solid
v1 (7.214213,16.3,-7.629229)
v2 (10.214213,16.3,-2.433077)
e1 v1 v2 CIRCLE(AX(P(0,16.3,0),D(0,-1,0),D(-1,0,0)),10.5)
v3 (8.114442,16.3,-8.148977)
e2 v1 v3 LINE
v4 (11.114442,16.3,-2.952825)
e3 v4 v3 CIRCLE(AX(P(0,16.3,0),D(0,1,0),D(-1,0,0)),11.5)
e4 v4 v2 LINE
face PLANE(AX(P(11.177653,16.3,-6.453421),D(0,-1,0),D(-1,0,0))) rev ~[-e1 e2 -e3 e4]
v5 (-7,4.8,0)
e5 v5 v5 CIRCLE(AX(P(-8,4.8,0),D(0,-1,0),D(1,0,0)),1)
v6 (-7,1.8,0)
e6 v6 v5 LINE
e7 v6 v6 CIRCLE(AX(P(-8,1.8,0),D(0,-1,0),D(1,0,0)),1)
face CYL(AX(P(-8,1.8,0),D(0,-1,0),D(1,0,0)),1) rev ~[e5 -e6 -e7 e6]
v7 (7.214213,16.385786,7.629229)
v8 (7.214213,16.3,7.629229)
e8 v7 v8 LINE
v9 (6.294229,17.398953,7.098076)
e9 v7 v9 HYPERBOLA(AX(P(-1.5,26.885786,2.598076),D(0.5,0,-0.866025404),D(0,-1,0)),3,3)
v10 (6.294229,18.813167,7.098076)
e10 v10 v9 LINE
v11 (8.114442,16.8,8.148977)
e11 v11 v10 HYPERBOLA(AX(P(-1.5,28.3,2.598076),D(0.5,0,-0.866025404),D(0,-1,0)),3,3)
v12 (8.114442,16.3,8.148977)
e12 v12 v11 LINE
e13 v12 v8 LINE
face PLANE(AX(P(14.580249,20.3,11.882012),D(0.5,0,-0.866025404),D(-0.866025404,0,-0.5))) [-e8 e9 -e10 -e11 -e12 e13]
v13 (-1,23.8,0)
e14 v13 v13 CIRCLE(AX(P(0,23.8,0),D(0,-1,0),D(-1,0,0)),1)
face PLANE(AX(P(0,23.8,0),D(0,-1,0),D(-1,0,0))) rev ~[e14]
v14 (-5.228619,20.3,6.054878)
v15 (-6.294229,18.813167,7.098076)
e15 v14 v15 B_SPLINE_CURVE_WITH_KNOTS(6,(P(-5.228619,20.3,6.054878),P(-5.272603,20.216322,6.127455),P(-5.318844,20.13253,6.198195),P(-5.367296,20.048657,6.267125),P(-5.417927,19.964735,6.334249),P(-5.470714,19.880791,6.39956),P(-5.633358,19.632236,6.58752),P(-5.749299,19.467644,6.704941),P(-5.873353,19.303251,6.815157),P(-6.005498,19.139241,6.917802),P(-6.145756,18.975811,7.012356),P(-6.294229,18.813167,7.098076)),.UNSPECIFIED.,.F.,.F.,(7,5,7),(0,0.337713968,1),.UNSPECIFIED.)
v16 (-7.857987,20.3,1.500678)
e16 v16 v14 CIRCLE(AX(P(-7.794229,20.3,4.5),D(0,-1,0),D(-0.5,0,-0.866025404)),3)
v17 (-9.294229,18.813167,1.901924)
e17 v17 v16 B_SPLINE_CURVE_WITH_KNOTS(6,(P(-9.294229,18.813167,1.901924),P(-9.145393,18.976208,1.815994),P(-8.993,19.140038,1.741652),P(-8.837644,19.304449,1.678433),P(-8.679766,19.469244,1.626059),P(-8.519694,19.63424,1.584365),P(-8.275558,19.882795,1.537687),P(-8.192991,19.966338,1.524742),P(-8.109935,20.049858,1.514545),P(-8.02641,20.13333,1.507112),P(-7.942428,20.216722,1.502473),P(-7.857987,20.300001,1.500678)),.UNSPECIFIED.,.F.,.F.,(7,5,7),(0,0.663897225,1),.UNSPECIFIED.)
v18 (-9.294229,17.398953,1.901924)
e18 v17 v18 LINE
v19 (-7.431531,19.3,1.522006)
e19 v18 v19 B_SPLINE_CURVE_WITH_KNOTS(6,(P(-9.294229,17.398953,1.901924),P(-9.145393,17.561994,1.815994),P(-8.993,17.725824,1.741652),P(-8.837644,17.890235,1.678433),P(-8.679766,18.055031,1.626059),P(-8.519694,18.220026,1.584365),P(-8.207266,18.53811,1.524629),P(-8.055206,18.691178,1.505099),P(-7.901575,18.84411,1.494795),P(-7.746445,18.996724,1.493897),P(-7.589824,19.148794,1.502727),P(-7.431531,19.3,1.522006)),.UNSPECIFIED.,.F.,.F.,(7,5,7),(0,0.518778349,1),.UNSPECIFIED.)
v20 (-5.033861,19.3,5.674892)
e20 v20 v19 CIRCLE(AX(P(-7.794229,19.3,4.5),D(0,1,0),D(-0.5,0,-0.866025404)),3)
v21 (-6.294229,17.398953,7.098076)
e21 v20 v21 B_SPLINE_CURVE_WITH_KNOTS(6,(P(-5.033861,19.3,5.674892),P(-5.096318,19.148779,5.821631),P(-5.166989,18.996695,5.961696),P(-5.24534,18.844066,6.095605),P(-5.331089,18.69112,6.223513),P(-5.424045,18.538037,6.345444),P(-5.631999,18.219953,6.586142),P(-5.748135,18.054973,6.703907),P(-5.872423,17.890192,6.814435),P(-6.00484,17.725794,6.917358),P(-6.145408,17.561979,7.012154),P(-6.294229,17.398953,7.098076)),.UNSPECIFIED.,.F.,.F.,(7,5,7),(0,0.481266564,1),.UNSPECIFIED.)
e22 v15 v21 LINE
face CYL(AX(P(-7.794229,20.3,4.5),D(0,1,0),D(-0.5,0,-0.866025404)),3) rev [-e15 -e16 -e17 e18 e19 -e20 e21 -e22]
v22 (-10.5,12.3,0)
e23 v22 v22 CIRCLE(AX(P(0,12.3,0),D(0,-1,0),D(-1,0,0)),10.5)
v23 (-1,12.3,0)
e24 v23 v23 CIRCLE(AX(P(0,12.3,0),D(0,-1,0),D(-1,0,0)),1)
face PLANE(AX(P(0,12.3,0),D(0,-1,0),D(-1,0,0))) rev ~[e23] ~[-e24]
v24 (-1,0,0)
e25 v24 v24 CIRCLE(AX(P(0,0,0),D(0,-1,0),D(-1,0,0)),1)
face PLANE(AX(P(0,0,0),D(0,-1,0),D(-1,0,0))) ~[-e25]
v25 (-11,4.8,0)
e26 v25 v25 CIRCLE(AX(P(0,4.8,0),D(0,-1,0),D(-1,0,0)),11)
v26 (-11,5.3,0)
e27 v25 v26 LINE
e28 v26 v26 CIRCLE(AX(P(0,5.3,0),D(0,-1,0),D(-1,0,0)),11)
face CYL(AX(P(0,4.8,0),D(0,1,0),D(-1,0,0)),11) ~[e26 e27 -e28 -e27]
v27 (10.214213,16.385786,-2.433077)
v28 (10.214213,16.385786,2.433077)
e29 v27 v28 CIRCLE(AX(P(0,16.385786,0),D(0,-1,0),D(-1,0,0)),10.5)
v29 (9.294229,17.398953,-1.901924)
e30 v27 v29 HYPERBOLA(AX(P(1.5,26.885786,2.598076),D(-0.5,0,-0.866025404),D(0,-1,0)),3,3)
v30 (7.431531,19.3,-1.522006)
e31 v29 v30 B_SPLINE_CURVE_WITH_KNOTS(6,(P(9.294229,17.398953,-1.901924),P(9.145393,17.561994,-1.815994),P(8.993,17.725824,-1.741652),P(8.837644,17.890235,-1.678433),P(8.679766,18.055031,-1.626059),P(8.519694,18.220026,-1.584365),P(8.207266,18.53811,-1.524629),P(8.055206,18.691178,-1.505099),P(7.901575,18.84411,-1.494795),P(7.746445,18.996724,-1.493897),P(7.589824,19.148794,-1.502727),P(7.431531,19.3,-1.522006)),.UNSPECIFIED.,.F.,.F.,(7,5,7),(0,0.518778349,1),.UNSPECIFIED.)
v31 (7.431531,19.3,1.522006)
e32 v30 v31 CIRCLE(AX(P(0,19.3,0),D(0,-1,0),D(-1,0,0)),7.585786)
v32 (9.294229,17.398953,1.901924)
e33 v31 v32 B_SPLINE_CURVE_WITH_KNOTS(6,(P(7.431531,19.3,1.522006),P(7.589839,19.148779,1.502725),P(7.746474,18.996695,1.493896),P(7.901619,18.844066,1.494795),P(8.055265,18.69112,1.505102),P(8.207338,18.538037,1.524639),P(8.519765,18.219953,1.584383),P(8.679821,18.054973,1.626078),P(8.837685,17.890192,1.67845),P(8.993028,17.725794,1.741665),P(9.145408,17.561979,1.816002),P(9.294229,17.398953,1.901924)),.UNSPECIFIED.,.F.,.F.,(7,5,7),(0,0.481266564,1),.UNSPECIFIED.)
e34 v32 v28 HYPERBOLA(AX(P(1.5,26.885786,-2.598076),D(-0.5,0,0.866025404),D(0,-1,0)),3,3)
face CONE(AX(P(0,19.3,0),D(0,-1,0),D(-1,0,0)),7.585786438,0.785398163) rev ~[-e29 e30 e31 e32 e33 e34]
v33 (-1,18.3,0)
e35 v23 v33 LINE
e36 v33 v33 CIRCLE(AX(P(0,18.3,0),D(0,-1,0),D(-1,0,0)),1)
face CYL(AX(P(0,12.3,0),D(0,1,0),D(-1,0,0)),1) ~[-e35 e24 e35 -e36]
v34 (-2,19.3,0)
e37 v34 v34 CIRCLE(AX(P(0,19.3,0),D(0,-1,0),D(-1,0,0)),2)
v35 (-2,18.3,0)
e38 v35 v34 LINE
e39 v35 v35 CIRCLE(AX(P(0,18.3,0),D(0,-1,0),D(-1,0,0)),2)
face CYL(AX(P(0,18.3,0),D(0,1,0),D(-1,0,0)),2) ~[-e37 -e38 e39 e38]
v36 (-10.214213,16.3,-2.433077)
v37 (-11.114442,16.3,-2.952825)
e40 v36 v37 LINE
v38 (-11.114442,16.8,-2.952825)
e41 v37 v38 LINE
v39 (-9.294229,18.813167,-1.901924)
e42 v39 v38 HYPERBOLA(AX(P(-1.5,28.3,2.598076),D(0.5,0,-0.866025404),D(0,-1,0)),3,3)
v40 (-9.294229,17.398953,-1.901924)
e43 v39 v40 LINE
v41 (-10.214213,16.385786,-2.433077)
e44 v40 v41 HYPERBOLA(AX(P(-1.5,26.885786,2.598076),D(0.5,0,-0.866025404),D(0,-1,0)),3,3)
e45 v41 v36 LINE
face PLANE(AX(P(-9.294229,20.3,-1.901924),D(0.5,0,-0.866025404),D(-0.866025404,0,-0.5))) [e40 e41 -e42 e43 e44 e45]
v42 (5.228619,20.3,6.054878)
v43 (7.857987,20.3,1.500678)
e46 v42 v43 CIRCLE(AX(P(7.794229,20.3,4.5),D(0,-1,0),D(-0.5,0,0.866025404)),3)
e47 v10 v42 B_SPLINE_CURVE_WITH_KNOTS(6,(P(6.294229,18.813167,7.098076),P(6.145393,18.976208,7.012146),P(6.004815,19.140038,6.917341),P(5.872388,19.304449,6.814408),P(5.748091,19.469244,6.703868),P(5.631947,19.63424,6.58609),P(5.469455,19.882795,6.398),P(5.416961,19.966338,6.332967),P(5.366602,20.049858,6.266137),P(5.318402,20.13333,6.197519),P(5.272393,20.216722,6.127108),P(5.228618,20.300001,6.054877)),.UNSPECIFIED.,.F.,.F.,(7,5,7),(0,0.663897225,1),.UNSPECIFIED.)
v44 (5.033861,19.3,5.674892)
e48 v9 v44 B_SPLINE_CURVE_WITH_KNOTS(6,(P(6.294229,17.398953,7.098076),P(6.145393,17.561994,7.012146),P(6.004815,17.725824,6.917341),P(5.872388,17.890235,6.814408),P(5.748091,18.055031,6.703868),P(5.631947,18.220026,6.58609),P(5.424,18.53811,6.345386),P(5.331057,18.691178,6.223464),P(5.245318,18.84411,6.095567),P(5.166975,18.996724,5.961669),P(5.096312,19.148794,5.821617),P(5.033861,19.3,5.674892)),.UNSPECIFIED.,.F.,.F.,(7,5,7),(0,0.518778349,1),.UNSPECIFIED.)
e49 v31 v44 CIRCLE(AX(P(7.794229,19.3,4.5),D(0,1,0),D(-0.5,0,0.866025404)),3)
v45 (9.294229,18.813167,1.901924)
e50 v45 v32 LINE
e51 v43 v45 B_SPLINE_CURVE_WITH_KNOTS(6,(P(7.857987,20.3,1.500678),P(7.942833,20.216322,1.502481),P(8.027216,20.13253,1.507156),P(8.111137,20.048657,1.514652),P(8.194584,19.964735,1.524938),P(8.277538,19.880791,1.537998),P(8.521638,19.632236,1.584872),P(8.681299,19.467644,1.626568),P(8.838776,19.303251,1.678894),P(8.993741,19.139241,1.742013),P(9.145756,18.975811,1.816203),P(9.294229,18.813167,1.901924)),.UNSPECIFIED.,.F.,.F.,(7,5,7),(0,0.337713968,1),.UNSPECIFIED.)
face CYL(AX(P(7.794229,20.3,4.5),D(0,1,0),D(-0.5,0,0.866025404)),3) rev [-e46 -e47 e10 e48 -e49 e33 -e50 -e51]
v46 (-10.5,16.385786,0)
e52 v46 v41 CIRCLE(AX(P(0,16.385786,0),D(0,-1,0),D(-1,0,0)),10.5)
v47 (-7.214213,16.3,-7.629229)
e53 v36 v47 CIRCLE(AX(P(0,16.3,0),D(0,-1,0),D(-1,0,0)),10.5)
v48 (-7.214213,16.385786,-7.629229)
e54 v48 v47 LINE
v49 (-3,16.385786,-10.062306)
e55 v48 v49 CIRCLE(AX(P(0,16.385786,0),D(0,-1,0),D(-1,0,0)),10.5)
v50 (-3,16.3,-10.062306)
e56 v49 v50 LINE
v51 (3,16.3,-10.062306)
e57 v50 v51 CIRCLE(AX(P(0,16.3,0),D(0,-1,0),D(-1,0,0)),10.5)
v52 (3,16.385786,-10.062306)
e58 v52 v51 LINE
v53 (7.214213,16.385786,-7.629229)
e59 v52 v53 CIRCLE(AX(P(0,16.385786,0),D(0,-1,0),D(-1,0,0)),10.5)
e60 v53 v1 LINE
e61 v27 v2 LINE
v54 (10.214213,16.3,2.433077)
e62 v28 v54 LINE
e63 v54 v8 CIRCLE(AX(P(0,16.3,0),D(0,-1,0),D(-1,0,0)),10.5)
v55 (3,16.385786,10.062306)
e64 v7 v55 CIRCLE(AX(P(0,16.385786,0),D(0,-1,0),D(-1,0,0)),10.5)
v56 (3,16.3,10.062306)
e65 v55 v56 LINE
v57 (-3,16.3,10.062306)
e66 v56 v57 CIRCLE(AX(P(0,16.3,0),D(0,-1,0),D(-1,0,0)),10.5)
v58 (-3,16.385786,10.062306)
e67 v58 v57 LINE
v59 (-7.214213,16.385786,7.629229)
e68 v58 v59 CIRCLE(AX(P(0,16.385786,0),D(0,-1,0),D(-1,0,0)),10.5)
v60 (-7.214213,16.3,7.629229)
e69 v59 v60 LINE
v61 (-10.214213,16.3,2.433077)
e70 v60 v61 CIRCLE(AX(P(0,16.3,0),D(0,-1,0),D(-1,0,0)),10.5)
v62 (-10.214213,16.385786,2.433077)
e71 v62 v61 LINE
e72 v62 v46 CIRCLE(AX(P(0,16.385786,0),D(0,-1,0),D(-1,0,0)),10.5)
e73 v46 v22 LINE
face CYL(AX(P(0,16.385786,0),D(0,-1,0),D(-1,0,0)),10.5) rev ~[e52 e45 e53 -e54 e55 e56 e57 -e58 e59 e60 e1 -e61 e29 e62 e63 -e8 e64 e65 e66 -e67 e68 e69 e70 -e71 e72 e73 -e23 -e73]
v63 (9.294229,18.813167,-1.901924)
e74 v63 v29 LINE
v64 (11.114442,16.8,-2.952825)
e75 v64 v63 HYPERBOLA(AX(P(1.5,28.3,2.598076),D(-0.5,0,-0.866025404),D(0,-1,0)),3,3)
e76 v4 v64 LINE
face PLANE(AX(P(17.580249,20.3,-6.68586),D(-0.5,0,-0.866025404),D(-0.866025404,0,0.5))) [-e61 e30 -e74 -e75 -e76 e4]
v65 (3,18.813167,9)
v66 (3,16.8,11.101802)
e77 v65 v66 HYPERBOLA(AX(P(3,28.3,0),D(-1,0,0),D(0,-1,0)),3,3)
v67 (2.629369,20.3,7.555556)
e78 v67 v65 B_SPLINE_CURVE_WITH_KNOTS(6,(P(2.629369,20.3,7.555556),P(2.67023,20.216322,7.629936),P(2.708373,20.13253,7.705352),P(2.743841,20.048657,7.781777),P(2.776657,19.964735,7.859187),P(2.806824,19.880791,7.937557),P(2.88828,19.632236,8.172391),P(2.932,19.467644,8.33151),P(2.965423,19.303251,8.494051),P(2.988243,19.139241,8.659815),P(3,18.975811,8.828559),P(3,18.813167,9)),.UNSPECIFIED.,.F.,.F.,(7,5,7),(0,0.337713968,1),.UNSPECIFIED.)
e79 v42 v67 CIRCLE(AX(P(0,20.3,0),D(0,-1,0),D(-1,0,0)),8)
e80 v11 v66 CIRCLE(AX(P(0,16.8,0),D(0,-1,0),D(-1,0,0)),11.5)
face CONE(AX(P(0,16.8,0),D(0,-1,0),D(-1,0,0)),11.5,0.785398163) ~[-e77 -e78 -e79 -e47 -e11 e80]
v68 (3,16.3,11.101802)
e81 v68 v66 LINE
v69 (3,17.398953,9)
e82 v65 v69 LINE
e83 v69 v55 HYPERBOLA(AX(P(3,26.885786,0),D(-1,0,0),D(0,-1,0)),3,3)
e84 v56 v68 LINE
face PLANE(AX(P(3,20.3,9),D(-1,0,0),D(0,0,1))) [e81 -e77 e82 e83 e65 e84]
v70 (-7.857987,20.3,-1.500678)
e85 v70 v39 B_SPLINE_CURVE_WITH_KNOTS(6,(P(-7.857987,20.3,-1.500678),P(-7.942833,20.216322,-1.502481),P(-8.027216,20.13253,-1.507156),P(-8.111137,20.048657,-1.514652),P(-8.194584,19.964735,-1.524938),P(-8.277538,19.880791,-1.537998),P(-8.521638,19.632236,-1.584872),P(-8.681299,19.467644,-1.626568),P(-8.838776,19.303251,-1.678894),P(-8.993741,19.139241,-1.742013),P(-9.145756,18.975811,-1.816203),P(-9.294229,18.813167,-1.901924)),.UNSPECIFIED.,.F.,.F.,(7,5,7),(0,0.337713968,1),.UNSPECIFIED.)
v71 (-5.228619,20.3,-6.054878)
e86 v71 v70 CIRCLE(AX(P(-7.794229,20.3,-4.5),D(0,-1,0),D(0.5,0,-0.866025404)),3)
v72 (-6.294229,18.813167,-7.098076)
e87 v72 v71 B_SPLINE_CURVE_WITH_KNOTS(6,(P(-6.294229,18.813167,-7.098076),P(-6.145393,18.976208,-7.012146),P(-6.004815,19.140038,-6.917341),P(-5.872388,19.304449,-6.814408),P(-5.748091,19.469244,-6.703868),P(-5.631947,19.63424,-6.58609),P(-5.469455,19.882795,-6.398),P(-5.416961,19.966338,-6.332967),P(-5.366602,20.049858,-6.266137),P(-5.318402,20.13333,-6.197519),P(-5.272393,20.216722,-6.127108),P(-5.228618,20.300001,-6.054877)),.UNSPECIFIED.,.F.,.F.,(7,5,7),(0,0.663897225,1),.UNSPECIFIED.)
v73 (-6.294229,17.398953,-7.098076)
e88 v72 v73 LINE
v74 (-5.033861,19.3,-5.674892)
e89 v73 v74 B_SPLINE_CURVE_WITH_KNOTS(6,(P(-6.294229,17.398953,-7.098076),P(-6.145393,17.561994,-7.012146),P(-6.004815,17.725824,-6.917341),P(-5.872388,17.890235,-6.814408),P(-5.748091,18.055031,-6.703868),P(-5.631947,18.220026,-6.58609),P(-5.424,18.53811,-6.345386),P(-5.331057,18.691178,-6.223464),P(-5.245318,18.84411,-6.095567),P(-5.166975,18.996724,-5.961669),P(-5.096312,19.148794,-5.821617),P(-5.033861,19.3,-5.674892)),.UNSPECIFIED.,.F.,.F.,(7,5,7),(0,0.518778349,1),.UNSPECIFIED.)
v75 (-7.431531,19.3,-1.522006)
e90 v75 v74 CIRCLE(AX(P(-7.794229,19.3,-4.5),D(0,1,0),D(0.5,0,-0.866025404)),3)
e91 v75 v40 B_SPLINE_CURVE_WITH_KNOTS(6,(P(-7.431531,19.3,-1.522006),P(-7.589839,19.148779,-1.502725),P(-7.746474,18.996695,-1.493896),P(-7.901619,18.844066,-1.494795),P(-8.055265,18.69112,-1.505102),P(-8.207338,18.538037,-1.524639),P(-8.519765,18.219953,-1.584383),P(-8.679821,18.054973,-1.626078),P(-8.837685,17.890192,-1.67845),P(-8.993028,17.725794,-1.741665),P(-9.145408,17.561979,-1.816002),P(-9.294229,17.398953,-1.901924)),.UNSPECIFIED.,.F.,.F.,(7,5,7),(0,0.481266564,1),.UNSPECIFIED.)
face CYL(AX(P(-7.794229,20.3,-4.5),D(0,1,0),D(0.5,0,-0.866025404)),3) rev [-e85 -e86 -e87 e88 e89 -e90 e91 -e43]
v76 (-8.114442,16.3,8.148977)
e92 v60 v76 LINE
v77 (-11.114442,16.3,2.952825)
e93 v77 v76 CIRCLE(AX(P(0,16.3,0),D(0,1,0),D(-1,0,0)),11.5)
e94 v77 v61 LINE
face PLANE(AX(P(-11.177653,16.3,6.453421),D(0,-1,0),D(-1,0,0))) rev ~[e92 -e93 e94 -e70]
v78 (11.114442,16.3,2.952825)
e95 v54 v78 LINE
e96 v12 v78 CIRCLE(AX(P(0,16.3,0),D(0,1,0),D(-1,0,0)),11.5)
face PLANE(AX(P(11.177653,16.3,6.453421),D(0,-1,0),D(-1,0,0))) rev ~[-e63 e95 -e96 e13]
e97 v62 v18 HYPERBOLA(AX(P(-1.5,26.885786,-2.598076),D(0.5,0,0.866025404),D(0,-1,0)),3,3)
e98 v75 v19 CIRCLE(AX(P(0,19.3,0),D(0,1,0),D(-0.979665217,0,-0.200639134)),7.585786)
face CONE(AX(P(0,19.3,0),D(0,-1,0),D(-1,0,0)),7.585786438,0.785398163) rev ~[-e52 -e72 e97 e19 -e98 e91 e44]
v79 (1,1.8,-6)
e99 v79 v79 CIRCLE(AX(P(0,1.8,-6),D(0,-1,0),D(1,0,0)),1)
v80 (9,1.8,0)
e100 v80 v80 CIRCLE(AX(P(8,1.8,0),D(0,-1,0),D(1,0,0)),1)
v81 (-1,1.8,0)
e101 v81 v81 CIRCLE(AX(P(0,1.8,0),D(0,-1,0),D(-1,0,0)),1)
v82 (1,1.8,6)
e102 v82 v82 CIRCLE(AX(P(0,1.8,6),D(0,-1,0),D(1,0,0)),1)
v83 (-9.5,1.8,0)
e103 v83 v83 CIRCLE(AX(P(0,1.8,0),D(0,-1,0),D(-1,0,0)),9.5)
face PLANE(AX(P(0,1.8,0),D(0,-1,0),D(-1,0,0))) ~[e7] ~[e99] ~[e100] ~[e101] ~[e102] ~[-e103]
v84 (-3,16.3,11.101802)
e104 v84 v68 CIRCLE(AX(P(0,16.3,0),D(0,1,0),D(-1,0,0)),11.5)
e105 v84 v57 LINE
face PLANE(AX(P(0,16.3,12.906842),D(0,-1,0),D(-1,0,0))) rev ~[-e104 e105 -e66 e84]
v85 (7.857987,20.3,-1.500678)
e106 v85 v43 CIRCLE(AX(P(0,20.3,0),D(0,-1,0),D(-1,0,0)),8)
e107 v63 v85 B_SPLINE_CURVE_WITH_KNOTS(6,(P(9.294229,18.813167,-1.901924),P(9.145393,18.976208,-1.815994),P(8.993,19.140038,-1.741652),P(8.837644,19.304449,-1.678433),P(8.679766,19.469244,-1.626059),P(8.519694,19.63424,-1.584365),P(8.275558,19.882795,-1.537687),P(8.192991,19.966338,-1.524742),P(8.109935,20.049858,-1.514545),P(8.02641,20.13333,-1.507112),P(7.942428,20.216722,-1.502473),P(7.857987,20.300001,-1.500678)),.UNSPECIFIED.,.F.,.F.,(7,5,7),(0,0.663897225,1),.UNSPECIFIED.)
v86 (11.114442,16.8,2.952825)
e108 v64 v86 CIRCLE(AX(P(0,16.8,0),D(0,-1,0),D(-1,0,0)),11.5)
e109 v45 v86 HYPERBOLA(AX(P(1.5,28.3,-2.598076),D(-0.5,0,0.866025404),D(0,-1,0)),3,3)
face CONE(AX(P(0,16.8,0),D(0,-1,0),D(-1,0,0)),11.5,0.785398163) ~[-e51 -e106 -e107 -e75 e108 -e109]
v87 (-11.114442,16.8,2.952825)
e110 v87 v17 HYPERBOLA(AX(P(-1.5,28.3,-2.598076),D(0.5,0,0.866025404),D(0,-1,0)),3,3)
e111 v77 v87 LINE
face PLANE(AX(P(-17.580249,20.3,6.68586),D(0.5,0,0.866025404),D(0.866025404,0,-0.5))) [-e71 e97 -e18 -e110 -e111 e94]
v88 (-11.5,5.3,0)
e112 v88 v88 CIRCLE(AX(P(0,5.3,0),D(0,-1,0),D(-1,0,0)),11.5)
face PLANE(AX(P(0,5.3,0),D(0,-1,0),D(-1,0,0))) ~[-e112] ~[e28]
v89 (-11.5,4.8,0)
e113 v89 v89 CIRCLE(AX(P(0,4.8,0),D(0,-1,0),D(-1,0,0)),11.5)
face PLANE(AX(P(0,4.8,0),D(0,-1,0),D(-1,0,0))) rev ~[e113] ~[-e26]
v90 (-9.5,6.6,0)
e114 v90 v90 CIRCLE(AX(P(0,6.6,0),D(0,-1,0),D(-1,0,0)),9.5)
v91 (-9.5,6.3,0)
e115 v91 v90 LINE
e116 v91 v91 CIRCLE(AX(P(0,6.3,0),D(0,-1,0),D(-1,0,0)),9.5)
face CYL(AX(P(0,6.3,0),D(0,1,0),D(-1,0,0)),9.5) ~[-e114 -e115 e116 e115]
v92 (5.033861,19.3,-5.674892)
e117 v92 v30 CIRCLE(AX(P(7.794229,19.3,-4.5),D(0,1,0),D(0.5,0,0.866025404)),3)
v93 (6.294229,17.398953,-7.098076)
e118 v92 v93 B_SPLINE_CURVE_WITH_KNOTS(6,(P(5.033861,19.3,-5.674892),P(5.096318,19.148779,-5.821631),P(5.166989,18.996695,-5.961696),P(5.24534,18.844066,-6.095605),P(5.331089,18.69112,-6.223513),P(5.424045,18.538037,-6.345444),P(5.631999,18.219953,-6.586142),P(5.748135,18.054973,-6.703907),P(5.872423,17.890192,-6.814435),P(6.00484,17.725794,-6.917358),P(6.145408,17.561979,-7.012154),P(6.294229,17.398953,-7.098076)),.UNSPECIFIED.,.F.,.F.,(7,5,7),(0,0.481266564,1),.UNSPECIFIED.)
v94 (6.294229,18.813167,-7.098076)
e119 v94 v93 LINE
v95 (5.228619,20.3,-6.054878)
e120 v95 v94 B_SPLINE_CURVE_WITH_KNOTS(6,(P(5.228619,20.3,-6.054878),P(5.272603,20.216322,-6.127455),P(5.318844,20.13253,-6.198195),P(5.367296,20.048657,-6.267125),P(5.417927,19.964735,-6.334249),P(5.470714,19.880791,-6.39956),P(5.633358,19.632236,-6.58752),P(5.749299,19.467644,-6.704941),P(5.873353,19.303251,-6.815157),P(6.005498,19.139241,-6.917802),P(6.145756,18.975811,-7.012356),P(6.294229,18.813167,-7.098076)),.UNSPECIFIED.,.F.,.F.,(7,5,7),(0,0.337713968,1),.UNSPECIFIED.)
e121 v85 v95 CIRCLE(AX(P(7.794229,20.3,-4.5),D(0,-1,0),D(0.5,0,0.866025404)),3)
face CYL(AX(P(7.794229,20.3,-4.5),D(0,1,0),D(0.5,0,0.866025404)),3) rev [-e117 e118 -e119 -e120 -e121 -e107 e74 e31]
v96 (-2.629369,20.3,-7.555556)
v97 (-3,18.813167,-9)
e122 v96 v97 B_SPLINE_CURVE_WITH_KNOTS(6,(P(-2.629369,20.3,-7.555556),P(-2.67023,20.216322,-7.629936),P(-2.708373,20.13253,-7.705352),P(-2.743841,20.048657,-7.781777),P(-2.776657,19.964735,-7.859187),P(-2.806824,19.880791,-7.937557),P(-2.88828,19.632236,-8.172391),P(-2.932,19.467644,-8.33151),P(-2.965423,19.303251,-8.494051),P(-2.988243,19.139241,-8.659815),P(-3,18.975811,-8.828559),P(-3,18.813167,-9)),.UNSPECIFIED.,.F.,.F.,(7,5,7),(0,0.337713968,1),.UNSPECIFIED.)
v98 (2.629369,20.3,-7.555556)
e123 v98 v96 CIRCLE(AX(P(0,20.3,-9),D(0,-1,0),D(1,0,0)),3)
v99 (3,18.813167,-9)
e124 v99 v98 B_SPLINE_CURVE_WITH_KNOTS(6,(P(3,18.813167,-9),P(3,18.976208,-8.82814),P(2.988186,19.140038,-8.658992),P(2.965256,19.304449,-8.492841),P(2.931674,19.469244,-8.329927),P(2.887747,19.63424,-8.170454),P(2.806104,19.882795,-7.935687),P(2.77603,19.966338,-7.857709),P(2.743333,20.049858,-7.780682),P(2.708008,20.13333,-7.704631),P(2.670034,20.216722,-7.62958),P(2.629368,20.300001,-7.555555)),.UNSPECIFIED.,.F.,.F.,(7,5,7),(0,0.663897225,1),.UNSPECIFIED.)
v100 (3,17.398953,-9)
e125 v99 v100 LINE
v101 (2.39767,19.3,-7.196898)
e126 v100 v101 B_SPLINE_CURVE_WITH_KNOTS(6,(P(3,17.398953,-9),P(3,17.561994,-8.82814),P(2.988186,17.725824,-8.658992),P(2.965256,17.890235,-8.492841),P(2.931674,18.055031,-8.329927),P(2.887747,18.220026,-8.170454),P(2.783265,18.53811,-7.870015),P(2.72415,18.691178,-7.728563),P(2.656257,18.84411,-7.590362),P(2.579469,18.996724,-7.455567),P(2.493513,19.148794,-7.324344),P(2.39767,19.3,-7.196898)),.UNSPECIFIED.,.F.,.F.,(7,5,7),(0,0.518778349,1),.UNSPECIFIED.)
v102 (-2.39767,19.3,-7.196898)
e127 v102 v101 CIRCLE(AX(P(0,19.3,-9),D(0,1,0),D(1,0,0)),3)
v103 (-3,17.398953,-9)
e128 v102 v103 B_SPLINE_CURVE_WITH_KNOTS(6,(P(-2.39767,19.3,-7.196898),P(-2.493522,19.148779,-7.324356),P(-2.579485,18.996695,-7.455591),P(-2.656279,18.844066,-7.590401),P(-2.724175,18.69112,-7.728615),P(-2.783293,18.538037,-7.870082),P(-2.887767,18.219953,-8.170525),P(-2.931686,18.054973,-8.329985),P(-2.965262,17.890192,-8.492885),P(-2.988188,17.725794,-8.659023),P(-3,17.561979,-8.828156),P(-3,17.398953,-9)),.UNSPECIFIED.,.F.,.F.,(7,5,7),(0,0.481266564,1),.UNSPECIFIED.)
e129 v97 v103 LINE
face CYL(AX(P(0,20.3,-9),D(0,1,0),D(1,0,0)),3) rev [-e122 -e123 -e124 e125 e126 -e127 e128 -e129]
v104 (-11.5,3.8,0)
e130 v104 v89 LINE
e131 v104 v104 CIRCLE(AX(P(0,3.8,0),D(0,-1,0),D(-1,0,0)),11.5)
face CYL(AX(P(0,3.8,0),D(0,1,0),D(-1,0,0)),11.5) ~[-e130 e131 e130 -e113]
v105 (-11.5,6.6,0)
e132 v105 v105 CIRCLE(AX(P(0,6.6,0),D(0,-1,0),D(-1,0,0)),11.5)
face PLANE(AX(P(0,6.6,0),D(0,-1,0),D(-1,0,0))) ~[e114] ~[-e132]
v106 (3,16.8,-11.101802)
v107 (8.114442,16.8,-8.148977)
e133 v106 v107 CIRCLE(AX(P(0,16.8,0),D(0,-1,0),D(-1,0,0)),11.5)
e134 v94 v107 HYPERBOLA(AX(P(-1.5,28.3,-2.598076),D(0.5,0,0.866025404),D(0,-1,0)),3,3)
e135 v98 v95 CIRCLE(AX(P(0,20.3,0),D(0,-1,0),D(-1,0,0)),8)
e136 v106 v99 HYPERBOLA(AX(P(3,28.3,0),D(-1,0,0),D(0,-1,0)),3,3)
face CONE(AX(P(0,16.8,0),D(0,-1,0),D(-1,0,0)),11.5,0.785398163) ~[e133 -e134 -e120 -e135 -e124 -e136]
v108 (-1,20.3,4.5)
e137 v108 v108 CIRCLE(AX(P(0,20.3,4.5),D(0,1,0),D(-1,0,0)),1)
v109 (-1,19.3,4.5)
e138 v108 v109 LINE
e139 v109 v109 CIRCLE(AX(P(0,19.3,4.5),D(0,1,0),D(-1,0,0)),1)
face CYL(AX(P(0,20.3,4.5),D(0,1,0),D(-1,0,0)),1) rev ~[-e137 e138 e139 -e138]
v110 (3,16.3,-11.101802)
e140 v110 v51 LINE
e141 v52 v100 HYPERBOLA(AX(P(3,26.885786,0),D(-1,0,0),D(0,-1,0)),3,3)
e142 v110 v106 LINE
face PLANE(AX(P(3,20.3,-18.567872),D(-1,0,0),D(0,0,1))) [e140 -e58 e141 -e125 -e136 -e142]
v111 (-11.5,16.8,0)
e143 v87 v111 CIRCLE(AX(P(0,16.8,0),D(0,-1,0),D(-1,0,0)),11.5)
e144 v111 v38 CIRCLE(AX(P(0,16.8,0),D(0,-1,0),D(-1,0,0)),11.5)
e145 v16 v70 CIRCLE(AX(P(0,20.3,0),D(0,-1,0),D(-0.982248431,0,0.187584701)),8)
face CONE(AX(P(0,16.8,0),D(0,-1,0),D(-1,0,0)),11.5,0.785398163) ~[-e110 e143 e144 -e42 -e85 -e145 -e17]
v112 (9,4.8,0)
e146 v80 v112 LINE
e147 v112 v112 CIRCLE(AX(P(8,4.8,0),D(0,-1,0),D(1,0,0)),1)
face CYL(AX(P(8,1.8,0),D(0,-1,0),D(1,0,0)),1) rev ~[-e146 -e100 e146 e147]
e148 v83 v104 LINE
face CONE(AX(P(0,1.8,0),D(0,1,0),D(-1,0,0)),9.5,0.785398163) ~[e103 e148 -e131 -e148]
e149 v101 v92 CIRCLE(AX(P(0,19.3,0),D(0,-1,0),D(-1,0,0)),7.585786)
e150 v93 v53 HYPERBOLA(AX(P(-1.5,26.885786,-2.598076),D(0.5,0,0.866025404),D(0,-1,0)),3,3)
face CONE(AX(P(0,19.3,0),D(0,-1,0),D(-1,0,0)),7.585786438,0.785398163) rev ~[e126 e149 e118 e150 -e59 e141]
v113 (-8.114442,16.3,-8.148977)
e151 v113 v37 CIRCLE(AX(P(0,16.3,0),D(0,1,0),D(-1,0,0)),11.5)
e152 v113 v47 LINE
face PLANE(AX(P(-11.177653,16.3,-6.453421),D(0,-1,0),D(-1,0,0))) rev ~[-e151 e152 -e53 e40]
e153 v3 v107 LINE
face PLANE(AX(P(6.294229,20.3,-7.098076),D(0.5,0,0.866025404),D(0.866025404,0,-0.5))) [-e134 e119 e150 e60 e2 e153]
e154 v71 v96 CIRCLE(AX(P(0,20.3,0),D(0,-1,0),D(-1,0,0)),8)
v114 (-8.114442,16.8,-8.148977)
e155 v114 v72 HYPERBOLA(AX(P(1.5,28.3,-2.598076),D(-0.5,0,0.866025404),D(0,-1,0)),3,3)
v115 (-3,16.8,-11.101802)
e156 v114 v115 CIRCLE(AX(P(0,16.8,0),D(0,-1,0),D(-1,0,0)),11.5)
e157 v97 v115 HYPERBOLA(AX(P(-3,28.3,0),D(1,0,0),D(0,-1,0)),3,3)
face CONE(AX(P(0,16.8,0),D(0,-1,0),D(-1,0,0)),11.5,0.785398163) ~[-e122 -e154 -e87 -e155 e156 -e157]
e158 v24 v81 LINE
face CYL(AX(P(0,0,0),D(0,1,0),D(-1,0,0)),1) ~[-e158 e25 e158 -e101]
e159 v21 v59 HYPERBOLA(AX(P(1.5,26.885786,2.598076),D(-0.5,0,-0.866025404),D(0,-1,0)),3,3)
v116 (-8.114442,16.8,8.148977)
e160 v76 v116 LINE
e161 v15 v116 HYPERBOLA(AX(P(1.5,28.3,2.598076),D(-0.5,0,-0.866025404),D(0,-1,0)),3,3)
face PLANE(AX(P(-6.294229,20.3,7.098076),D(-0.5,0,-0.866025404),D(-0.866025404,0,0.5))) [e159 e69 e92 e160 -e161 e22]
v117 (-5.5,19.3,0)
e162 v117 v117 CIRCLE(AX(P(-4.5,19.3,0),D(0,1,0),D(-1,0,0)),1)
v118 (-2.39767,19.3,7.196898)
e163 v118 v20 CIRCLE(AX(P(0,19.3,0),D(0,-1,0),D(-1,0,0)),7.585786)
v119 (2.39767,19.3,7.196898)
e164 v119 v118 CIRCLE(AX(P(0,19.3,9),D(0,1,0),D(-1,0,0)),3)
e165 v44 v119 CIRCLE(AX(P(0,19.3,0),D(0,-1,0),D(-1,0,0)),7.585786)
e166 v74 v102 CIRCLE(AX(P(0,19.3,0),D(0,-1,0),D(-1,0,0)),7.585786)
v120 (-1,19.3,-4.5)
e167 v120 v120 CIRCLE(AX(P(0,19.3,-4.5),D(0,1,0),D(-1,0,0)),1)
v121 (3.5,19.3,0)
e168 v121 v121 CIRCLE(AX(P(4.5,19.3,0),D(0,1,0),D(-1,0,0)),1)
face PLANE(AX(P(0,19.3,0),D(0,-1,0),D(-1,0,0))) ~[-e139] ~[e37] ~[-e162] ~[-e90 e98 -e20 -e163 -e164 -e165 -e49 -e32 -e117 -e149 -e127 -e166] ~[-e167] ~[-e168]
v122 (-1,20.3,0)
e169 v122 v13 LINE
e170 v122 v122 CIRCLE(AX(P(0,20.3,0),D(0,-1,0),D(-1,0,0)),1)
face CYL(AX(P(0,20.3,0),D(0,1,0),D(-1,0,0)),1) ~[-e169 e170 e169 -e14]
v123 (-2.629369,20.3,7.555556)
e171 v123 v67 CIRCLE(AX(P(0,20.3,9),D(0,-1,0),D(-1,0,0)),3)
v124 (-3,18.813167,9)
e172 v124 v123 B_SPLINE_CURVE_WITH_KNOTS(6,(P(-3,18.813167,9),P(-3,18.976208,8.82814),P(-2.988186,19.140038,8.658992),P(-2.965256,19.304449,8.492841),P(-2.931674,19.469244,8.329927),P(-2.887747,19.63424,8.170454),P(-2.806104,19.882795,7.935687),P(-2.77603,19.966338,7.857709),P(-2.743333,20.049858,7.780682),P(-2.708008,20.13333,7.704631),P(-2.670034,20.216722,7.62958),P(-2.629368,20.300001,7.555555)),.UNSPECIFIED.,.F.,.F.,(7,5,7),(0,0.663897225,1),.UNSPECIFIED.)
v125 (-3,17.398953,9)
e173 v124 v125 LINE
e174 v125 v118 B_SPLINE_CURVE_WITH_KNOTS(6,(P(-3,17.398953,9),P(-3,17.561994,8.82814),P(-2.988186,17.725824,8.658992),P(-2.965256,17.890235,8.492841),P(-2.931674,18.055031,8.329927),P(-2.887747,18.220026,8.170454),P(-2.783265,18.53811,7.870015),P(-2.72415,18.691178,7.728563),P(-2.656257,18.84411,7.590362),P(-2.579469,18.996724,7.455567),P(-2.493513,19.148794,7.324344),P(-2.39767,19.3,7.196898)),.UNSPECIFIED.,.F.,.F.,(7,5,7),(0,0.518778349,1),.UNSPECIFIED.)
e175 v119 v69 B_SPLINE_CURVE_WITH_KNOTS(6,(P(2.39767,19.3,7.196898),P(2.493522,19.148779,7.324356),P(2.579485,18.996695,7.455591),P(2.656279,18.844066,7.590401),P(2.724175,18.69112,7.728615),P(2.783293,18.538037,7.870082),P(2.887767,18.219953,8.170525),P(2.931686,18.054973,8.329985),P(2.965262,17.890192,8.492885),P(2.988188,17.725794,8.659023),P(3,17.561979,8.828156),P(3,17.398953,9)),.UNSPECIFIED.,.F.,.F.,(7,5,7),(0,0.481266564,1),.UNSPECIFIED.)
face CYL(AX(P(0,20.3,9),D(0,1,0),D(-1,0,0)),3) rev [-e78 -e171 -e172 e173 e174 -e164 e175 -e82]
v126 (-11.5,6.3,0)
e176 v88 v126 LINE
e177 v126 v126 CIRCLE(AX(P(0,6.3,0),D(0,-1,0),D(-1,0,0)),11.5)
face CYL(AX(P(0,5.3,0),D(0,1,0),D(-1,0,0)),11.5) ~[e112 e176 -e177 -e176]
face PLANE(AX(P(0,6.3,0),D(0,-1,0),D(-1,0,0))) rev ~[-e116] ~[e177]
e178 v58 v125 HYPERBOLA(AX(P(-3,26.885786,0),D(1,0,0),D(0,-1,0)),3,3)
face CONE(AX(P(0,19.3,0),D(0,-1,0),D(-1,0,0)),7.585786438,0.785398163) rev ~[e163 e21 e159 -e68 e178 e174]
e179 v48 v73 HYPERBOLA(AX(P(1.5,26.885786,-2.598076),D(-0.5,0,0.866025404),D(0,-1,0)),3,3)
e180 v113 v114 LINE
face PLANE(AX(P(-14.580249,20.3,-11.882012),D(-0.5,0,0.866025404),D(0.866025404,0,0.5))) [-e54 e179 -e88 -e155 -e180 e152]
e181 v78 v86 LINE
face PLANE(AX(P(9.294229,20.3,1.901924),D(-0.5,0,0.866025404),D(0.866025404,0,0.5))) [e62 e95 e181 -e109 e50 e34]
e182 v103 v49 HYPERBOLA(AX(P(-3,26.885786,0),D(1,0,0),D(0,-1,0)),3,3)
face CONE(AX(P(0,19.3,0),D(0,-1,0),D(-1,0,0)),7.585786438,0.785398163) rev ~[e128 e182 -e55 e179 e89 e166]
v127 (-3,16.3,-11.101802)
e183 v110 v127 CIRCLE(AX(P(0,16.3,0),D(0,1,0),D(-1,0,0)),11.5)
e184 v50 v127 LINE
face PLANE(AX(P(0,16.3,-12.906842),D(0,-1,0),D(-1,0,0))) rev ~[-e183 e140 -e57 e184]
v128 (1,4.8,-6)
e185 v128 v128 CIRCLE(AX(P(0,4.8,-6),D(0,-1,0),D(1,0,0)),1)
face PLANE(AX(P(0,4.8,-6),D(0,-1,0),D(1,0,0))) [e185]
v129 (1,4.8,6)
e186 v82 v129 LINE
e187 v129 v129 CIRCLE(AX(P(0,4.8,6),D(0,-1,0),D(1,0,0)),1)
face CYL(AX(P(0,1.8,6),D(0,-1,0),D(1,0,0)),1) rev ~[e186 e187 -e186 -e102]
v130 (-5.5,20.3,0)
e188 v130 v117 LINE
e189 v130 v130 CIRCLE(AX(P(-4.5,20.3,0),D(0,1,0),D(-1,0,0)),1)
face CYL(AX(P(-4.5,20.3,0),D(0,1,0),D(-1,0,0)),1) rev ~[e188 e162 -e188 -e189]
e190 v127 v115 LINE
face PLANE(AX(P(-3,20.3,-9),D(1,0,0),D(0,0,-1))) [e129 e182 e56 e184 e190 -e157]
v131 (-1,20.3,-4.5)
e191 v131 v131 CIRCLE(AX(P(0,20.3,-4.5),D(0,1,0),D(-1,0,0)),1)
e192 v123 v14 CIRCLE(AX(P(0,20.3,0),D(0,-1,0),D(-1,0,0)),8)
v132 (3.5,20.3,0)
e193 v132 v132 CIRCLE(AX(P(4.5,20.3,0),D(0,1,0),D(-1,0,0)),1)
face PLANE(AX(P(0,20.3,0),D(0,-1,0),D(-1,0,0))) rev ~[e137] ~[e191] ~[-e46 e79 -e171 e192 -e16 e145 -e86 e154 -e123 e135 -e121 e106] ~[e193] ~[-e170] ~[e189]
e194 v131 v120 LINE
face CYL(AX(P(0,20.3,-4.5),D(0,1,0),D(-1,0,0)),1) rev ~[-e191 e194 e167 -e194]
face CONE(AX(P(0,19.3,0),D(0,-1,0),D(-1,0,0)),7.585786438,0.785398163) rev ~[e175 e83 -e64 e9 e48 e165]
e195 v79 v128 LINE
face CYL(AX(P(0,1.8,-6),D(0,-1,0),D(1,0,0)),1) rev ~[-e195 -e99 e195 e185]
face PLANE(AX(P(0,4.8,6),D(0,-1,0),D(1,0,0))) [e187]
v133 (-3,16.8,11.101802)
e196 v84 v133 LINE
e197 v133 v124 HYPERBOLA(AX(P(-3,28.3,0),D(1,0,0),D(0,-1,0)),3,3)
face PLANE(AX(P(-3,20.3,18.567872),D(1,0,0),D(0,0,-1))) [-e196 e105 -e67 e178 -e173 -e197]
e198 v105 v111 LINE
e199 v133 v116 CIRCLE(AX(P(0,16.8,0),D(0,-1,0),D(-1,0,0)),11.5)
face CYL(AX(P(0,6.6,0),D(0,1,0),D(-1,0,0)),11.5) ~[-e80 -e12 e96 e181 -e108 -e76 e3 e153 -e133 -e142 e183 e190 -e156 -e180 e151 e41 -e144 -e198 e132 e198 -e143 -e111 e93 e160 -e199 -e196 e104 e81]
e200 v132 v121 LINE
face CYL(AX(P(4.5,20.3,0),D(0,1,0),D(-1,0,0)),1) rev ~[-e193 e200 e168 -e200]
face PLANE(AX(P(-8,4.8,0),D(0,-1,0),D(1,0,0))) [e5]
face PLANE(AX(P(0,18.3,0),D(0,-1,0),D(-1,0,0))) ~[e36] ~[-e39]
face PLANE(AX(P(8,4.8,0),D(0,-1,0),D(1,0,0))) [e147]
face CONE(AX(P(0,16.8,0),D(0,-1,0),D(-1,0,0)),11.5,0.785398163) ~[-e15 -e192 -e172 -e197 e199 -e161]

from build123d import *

# Parameters (mm, degrees)
SKETCH3_R          = 1
CUT_EXTRUDE2_DEPTH = 4
SKETCH6_R          = 1
CUT_EXTRUDE3_DEPTH = 3


with BuildPart() as part:
    # Sketch2 → Revolve1 (revolve)
    with BuildSketch(Plane.XY, mode=Mode.PRIVATE) as revolve1_sk:
        Polygon((0, 0), (1, 0), (1, 1.8), (9.5, 1.8), (11.5, 3.8), (11.5, 4.8), (11, 4.8), (11, 5.3), (11.5, 5.3), (11.5, 6.3), (9.5, 6.3), (9.5, 6.6), (11.5, 6.6), (11.5, 16.8), (8, 20.3), (1, 20.3), (1, 23.8), (0, 23.8), align=None)
        Polygon((2, 19.3), (7.585786438, 19.3), (10.5, 16.385786438), (10.5, 12.3), (1, 12.3), (1, 18.3), (2, 18.3), align=None, mode=Mode.SUBTRACT)
    revolve(revolve1_sk.sketch.rotate(Axis((0, 23.8, 0), (0, -1, 0)), 180), axis=Axis((0, 23.8, 0), (0, -1, 0)))

    # Sketch3 → Cut-Extrude2 (cut)
    with BuildSketch(Plane(origin=(0, 20.3, 0), x_dir=(1, 0, 0), z_dir=(0, 1, 0))):
        with Locations(Location((0, 4.5, 0), (0, 0, 180))):
            Circle(SKETCH3_R)
        with Locations(Location((4.5, 0, 0), (0, 0, 180))):
            Circle(SKETCH3_R)
        with Locations(Location((0, -4.5, 0), (0, 0, 180))):
            Circle(SKETCH3_R)
        with Locations(Location((-4.5, 0, 0), (0, 0, 180))):
            Circle(SKETCH3_R)
        with BuildLine():
            Line((-3, 9), (-3, 18.567871813))
            Line((-3, 18.567871813), (3, 18.567871813))
            Line((3, 18.567871813), (3, 9))
            ThreePointArc((3, 9), (0, 6), (-3, 9))
        make_face()
        with BuildLine():
            Line((6.294228634, 7.098076211), (14.580248685, 11.882012118))
            Line((14.580248685, 11.882012118), (17.580248685, 6.685859695))
            Line((17.580248685, 6.685859695), (9.294228634, 1.901923789))
            ThreePointArc((9.294228634, 1.901923789), (5.196152423, 3), (6.294228634, 7.098076211))
        make_face()
        with BuildLine():
            Line((9.294228634, -1.901923789), (17.580248685, -6.685859695))
            Line((17.580248685, -6.685859695), (14.580248685, -11.882012118))
            Line((14.580248685, -11.882012118), (6.294228634, -7.098076211))
            ThreePointArc((6.294228634, -7.098076211), (5.196152423, -3), (9.294228634, -1.901923789))
        make_face()
        with BuildLine():
            Line((3, -9), (3, -18.567871813))
            Line((3, -18.567871813), (-3, -18.567871813))
            Line((-3, -18.567871813), (-3, -9))
            ThreePointArc((-3, -9), (0, -6), (3, -9))
        make_face()
        with BuildLine():
            Line((-6.294228634, -7.098076211), (-14.580248685, -11.882012118))
            Line((-14.580248685, -11.882012118), (-17.580248685, -6.685859695))
            Line((-17.580248685, -6.685859695), (-9.294228634, -1.901923789))
            ThreePointArc((-9.294228634, -1.901923789), (-5.196152423, -3), (-6.294228634, -7.098076211))
        make_face()
        with BuildLine():
            Line((-9.294228634, 1.901923789), (-17.580248685, 6.685859695))
            Line((-17.580248685, 6.685859695), (-14.580248685, 11.882012118))
            Line((-14.580248685, 11.882012118), (-6.294228634, 7.098076211))
            ThreePointArc((-6.294228634, 7.098076211), (-5.196152423, 3), (-9.294228634, 1.901923789))
        make_face()
    extrude(amount=-CUT_EXTRUDE2_DEPTH, mode=Mode.SUBTRACT)

    # Sketch6 → Cut-Extrude3 (cut)
    with BuildSketch(Plane.XZ.offset(-1.8)):
        with Locations((0, 6)):
            Circle(SKETCH6_R)
        with Locations((8, 0)):
            Circle(SKETCH6_R)
        with Locations((0, -6)):
            Circle(SKETCH6_R)
        with Locations((-8, 0)):
            Circle(SKETCH6_R)
    extrude(amount=-CUT_EXTRUDE3_DEPTH, mode=Mode.SUBTRACT)


solid = part.part
